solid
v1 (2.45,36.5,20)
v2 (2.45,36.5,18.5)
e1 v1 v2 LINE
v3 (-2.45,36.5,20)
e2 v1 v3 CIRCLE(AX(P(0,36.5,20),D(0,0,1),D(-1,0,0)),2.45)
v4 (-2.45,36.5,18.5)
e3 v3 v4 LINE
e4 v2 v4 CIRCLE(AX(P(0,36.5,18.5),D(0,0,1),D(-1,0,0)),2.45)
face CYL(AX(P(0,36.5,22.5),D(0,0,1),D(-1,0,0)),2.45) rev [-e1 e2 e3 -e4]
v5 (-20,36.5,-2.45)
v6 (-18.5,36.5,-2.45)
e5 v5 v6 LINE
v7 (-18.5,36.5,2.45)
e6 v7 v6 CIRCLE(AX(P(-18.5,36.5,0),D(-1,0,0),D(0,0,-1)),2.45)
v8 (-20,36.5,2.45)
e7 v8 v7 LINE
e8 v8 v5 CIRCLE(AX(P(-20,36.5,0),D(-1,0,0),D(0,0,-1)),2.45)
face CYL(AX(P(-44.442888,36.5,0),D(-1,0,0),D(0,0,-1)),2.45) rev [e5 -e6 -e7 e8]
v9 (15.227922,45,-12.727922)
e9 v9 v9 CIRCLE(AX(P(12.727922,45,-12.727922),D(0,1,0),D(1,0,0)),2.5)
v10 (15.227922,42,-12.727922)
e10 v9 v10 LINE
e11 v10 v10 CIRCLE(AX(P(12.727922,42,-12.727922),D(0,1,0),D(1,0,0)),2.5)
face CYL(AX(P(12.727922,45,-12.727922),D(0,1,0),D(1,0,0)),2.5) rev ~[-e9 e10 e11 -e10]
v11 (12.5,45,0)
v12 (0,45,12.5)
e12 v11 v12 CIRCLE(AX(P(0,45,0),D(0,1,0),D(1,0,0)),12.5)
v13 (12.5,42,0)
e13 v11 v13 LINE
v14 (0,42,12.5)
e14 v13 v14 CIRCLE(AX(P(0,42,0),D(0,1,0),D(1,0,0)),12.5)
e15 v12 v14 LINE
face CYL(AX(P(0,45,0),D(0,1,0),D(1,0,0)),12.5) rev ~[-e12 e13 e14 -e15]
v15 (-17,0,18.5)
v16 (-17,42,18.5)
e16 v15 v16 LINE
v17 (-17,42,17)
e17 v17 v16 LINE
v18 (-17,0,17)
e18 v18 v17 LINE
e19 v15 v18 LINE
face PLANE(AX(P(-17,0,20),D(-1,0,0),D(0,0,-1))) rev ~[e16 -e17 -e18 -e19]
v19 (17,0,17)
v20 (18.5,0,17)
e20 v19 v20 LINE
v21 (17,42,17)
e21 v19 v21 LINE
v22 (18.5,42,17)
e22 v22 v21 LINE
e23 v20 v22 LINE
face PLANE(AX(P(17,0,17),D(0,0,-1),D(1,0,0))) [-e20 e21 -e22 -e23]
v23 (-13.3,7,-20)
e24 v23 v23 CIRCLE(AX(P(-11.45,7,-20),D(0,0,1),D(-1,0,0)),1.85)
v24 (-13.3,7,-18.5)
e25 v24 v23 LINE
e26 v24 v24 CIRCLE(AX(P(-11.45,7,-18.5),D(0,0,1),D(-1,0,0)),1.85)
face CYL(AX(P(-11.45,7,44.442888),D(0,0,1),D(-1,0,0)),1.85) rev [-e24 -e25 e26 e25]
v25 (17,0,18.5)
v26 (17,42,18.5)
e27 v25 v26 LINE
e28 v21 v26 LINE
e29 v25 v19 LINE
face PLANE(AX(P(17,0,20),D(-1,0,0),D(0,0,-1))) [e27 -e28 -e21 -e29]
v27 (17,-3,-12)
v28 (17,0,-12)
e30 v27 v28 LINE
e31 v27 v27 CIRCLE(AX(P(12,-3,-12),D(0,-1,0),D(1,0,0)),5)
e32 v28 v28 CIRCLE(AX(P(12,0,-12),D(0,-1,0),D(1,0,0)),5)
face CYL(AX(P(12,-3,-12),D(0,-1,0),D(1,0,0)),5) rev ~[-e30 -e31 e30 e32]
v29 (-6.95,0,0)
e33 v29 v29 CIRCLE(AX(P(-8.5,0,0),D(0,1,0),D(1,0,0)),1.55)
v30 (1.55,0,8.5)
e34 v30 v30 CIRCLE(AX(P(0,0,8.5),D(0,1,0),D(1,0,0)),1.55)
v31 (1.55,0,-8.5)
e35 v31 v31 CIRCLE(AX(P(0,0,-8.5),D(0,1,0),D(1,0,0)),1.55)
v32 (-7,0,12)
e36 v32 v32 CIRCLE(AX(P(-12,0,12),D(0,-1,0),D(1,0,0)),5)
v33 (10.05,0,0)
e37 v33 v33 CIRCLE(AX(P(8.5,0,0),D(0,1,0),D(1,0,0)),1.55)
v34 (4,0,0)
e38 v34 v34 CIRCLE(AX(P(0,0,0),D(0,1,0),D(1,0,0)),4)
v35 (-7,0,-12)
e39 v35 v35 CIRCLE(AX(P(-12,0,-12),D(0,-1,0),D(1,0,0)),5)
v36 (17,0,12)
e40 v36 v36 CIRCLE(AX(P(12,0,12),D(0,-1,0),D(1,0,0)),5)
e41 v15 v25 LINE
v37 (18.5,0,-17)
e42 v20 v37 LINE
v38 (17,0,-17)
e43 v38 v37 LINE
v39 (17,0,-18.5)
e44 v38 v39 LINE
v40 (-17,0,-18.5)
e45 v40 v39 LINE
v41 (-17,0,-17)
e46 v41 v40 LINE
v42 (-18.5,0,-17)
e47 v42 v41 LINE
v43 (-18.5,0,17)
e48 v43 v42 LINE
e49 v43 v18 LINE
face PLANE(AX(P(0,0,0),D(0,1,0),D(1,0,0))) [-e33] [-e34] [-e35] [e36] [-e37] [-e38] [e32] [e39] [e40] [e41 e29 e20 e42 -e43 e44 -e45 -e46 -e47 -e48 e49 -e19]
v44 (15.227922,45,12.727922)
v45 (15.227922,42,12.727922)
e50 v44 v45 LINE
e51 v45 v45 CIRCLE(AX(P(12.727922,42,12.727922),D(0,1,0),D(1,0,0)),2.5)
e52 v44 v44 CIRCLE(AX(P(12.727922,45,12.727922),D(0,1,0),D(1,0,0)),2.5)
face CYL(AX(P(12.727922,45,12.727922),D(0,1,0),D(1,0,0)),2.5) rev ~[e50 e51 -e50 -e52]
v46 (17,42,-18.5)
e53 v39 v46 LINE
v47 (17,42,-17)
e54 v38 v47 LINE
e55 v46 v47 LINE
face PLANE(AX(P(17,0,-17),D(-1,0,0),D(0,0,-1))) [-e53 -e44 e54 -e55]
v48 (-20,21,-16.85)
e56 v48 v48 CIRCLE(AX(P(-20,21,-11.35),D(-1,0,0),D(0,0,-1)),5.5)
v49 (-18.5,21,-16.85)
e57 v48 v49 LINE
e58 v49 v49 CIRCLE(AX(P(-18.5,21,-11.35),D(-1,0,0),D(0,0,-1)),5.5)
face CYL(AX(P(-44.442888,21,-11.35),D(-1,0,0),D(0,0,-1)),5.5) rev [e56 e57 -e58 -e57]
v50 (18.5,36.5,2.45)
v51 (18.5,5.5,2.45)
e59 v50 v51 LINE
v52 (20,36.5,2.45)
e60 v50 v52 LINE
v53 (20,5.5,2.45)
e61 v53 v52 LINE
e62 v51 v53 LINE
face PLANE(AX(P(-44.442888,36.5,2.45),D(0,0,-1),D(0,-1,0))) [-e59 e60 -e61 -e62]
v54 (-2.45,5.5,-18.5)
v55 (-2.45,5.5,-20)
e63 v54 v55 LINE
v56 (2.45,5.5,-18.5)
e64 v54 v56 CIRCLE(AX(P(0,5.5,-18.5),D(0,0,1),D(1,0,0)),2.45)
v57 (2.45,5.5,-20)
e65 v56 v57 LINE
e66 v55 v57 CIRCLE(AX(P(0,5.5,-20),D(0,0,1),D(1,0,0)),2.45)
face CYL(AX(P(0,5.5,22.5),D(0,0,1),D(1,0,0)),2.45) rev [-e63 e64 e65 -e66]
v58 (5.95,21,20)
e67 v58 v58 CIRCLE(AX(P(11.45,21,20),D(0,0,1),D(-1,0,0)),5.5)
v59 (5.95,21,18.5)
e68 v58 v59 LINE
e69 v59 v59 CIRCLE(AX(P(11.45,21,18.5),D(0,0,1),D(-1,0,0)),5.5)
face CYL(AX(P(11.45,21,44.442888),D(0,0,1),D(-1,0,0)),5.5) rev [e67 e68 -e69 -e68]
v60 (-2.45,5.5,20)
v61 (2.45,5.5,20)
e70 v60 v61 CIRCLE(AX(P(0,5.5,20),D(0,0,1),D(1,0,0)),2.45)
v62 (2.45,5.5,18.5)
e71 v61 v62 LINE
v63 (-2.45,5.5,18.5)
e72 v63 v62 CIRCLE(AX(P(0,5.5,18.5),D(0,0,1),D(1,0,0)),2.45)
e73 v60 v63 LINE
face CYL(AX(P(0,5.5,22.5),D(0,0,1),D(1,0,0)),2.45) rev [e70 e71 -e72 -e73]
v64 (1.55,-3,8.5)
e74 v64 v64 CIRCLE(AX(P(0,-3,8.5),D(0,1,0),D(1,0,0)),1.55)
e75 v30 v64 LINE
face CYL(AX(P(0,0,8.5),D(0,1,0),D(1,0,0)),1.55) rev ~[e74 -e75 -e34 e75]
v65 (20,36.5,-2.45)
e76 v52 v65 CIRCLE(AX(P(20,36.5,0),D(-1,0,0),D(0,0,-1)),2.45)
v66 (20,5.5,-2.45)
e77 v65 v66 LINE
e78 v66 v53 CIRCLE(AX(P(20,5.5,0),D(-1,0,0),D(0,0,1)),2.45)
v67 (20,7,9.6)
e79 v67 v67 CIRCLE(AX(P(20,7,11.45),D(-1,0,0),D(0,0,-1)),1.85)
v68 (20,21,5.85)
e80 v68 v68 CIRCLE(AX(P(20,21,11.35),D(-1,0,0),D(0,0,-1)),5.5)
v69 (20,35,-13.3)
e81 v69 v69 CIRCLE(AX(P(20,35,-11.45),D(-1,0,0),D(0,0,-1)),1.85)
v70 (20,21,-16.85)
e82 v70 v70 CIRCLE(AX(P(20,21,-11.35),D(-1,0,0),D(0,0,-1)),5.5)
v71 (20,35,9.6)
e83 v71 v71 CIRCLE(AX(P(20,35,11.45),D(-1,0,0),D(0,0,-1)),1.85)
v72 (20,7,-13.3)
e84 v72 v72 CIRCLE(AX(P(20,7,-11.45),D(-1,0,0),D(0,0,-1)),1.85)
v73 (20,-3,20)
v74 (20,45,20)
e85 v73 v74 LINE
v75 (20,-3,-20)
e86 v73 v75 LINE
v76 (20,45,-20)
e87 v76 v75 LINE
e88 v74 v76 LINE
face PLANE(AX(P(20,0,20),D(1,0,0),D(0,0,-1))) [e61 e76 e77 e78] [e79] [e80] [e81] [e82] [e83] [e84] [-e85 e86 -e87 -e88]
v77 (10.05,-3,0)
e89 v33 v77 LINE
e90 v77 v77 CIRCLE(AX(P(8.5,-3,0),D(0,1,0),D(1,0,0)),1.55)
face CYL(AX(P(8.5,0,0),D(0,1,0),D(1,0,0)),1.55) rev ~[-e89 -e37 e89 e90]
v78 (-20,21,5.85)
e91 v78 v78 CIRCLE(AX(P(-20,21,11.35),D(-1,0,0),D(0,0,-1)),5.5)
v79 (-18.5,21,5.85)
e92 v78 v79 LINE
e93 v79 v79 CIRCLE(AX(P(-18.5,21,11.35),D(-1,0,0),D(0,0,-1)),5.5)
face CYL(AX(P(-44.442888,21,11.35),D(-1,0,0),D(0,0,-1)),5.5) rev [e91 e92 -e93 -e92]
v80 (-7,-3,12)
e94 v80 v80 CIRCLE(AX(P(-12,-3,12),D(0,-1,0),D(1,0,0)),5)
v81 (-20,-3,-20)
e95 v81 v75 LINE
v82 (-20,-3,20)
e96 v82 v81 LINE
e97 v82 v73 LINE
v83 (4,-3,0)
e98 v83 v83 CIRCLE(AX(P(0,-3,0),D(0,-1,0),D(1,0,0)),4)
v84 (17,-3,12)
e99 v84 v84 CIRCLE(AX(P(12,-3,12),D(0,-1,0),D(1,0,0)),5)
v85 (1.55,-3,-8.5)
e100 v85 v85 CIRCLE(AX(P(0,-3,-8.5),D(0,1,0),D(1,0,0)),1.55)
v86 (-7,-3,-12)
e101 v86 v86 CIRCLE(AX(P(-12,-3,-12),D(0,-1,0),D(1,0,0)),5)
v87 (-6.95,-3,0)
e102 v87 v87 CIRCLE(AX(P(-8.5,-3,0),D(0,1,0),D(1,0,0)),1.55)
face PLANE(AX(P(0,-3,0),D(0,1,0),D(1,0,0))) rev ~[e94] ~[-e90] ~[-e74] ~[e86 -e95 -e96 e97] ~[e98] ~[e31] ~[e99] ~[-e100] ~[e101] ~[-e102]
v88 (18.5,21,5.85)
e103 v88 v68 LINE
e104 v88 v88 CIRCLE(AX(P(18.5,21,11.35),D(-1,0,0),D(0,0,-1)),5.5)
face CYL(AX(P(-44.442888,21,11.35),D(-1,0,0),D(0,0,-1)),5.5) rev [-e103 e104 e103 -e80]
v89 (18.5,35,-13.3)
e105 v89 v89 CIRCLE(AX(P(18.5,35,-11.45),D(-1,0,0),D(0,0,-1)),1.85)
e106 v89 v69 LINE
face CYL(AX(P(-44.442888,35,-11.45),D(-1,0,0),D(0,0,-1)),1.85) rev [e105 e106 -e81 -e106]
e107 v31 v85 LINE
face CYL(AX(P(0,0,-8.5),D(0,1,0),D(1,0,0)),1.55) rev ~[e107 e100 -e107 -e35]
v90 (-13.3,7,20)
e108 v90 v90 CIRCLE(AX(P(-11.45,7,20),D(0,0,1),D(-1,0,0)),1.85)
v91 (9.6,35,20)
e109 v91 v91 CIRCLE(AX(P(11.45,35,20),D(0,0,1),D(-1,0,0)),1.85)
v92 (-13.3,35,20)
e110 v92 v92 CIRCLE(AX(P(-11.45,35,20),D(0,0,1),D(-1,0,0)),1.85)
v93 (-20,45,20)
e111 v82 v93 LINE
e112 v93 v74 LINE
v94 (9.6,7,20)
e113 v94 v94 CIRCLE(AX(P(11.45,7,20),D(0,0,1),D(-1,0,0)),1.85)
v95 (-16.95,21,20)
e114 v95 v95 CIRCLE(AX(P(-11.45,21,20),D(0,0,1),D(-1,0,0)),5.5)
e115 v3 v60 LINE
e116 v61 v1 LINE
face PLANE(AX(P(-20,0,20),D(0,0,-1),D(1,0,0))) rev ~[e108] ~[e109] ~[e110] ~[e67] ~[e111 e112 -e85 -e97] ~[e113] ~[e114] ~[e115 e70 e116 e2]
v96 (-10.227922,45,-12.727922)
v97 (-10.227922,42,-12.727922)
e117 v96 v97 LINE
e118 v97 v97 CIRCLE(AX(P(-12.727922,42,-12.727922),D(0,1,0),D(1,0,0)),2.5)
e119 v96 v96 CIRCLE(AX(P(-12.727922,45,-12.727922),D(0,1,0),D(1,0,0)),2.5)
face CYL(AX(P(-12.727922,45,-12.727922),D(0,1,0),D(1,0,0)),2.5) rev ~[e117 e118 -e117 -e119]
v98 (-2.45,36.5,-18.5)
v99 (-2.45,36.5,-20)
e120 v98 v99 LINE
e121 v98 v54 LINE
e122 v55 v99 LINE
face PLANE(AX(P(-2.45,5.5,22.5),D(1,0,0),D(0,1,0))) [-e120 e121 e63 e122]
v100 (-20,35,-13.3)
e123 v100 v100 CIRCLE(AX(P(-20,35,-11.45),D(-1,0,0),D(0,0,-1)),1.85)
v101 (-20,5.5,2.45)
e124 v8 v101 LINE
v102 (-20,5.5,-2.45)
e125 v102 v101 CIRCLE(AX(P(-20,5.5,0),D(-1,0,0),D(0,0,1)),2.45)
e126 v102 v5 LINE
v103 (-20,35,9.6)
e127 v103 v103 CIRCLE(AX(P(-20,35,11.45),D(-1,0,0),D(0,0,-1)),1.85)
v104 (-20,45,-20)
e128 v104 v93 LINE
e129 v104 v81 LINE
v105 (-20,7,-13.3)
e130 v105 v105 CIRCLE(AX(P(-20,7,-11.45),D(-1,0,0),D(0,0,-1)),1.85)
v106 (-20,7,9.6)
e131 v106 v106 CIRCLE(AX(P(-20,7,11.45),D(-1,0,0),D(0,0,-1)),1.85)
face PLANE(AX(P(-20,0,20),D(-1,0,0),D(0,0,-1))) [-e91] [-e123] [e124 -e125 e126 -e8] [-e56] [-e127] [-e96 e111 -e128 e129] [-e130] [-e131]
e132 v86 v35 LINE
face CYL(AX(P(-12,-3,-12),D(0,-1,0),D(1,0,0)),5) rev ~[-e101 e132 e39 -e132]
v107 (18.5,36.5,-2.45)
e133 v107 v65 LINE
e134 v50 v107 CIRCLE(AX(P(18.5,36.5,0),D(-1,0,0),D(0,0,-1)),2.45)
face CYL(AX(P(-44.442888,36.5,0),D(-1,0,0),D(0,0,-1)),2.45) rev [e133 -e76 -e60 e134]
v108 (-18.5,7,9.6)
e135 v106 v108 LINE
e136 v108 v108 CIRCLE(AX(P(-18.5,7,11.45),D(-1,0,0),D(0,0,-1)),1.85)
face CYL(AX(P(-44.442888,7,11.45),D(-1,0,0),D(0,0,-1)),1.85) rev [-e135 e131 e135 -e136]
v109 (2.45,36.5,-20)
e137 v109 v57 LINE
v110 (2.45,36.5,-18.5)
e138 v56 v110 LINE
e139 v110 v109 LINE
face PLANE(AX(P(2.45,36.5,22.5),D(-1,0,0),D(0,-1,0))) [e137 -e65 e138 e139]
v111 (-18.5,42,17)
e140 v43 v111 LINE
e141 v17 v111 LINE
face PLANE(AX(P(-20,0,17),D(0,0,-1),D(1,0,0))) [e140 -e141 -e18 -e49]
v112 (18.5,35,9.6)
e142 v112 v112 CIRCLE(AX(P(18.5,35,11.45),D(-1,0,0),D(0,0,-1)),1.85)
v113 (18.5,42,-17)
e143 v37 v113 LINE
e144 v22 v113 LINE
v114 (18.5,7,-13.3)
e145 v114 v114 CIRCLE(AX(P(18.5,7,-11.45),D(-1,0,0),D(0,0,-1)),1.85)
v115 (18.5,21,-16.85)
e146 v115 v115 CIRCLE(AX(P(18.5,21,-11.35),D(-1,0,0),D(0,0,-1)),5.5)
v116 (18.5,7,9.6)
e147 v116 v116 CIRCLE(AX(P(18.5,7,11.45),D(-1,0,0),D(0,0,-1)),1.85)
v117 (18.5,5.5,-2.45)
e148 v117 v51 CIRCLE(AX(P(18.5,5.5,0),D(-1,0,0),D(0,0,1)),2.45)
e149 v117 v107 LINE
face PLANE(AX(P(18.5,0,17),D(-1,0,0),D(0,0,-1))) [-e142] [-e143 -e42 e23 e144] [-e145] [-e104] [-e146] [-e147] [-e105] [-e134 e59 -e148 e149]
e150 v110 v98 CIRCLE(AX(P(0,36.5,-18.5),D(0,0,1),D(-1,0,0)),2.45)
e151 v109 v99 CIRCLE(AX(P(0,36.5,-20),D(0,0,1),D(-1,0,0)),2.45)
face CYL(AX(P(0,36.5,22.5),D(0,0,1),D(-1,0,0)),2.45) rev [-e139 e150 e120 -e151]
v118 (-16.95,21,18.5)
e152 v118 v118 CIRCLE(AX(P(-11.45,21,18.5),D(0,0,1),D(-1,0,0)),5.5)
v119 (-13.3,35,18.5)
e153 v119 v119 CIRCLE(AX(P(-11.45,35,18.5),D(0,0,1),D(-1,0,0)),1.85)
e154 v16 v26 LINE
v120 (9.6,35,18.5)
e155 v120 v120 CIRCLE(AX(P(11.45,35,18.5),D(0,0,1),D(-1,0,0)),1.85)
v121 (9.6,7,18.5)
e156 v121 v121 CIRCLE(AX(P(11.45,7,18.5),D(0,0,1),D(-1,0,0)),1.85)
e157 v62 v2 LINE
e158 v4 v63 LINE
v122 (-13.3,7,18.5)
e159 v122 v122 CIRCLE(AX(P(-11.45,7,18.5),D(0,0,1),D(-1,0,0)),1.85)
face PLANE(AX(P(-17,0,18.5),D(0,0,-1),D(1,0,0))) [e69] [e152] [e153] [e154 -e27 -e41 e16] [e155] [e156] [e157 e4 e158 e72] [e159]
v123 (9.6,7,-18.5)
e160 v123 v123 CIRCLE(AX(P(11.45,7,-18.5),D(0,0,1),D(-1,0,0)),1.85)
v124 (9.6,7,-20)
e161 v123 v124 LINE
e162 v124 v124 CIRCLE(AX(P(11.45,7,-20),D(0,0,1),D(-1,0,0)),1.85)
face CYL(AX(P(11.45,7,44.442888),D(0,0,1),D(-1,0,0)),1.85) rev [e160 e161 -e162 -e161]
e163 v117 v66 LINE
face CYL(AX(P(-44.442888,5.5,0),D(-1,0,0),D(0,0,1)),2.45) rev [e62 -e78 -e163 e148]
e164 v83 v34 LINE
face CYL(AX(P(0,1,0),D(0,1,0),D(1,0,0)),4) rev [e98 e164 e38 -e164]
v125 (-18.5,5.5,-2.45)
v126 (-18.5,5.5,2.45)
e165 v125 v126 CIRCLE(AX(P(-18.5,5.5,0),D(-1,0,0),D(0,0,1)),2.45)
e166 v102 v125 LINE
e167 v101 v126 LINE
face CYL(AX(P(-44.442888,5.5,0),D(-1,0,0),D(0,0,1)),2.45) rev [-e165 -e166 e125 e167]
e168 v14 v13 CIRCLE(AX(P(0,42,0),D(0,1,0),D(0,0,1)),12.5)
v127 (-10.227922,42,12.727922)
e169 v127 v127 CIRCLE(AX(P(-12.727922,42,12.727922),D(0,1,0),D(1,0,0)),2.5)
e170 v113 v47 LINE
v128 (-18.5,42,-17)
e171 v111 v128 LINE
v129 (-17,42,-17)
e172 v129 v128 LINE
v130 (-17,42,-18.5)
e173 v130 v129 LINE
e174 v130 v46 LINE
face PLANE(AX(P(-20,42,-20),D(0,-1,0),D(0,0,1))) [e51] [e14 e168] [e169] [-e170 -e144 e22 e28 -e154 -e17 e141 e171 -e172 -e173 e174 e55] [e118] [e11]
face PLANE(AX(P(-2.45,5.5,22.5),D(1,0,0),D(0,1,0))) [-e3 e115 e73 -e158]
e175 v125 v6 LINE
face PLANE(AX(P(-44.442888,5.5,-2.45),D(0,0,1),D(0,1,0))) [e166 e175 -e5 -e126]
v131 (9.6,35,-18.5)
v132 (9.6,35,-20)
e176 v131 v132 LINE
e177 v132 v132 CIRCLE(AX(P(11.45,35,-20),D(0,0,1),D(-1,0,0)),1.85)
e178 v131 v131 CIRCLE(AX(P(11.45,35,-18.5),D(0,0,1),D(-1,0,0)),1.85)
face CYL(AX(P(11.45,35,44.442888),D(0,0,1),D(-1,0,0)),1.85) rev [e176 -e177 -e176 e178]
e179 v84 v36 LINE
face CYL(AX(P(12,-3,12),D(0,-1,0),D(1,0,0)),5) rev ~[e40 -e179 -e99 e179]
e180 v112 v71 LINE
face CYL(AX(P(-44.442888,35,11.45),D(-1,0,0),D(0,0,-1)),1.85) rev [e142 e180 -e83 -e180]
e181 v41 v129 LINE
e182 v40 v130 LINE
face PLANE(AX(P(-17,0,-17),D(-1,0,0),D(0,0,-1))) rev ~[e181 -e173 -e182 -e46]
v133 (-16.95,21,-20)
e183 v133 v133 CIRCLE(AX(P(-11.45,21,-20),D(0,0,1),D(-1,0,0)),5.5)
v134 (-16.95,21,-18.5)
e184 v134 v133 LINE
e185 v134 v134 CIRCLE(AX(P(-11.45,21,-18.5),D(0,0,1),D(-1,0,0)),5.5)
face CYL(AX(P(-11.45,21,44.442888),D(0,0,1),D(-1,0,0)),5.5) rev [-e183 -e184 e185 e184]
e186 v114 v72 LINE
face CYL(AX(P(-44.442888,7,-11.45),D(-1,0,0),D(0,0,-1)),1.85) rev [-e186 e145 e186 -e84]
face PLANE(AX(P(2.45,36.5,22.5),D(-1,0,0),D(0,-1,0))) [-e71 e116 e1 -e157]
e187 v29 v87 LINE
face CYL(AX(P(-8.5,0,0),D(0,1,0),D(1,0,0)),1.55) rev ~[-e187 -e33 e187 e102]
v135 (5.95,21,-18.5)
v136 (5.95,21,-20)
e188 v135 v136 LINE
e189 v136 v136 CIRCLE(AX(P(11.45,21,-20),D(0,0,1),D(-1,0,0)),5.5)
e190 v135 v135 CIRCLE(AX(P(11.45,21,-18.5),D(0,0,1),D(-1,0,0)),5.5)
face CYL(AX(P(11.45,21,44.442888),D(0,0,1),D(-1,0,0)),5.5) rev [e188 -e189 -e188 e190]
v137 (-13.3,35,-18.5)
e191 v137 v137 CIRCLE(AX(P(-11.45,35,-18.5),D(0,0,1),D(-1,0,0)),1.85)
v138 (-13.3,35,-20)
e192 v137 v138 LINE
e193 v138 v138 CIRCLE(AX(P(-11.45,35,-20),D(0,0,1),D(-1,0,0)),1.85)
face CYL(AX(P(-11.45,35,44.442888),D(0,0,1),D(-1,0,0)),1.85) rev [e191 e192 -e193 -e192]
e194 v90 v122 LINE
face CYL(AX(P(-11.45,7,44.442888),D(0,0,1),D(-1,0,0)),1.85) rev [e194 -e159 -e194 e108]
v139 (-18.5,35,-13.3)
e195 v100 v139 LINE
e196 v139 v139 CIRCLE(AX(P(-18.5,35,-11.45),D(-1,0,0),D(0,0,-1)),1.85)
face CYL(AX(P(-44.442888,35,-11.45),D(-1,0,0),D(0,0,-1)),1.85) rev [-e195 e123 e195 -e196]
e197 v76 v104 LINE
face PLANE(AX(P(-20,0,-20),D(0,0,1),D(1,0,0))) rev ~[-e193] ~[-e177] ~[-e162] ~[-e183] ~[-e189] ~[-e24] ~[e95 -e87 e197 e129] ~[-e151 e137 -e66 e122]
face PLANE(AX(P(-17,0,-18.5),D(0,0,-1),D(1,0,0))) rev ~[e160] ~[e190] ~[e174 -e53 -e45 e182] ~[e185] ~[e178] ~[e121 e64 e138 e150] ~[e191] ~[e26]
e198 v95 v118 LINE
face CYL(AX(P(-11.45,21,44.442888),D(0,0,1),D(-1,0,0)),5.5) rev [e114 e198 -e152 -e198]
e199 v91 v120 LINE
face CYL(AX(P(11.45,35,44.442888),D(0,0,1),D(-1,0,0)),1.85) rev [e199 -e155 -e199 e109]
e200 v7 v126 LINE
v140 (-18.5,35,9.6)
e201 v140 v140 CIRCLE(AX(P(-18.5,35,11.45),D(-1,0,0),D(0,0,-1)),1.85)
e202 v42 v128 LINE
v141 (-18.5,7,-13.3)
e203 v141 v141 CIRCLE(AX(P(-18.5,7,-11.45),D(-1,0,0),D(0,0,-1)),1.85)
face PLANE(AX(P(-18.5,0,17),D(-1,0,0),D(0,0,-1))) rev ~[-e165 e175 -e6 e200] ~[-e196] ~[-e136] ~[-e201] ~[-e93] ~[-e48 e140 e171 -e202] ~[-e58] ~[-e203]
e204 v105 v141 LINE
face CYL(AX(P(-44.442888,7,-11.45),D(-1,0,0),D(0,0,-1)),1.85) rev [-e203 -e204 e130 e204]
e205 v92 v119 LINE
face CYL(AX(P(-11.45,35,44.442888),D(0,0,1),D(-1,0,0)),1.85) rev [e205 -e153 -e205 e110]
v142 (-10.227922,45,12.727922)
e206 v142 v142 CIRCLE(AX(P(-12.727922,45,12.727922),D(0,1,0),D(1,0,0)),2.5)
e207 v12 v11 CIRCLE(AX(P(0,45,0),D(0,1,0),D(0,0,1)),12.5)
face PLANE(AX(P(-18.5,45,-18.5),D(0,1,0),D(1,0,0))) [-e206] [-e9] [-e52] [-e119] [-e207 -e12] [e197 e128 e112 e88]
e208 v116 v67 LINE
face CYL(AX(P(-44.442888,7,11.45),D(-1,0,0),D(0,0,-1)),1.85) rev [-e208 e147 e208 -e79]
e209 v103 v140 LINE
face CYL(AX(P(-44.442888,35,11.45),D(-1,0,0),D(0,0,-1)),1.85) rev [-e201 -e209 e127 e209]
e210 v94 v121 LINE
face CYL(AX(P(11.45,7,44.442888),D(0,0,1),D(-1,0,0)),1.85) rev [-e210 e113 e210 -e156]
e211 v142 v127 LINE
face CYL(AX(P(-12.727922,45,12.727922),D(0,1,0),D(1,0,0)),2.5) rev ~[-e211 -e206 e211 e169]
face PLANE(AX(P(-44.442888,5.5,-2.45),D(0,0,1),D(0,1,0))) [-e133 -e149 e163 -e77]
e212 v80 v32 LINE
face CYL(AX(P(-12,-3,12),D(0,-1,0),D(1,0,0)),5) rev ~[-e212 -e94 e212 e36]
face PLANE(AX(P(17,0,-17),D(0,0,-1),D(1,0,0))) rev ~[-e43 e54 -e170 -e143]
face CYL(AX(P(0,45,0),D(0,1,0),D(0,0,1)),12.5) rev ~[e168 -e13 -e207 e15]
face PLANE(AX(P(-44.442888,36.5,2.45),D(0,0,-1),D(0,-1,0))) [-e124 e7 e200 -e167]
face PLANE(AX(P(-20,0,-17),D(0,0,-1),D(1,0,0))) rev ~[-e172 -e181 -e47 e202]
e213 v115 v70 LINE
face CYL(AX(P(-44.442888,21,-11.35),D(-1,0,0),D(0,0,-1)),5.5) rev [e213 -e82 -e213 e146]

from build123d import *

# Parameters (mm, degrees)
SKETCH_1_W                = 40
SKETCH_1_H                = 40
SKETCH_1_R                = 1.55
EXTRUDE_2_DEPTH           = 3
SKETCH_1_6_R              = 4
CUT_EXTRUDE_1_DEPTH       = 1.5
SKETCH_2_W                = 3
SKETCH_2_H                = 3
EXTRUDE_7_DEPTH           = 45
SKETCH_5_W                = 40
SKETCH_5_H                = 3
EXTRUDE_8_DEPTH           = 40
CUT_EXTRUDE_2_DEPTH       = 4
CUT_EXTRUDE_START         = -4
SKETCH_7_R                = 4
CUT_EXTRUDE_3_DEPTH       = 4
SKETCH_8_R                = 5
CUT_EXTRUDE_4_DEPTH       = 4
SKETCH_9_R                = 2.5
CUT_EXTRUDE_5_DEPTH       = 4
SKETCH_10_W               = 1.5
SKETCH_10_H               = 34
SKETCH_10_W_2             = 34
SKETCH_10_H_2             = 1.5
EXTRUDE_10_DEPTH          = 45
CUT_EXTRUDE_12_DEPTH      = 63.507999488
CUT_EXTRUDE_12_DEPTH_BACK = 4
CUT_EXTRUDE_13_DEPTH      = 4
CUT_EXTRUDE_13_DEPTH_BACK = 64.442887702
CUT_EXTRUDE_15_DEPTH      = 10
CUT_EXTRUDE_15_DEPTH_BACK = 64.442887702
SKETCH_24_5_R             = 1.85
SKETCH_24_5_R_2           = 5.5
CUT_EXTRUDE_16_DEPTH      = 10
CUT_EXTRUDE_16_DEPTH_BACK = 64.442887702
SKETCH_25_R               = 5.5
SKETCH_25_R_2             = 1.85


with BuildPart() as part:
    # 草图1 → 凸台-拉伸2 (new body)
    with BuildSketch(Plane(origin=(0, 0, 0), x_dir=(1, 0, 0), z_dir=(0, 1, 0))):
        Rectangle(SKETCH_1_W, SKETCH_1_H)
        with Locations((0, 8.5)):
            Circle(SKETCH_1_R, mode=Mode.SUBTRACT)
        with Locations((8.5, 0)):
            Circle(SKETCH_1_R, mode=Mode.SUBTRACT)
        with Locations((0, -8.5)):
            Circle(SKETCH_1_R, mode=Mode.SUBTRACT)
        with Locations((-8.5, 0)):
            Circle(SKETCH_1_R, mode=Mode.SUBTRACT)
    extrude(amount=-EXTRUDE_2_DEPTH)

    # 草图1<6> → 切除-拉伸1 (cut)
    with BuildSketch(Plane(origin=(0, 0, 0), x_dir=(1, 0, 0), z_dir=(0, 1, 0))):
        Circle(SKETCH_1_6_R)
    extrude(amount=-CUT_EXTRUDE_1_DEPTH, mode=Mode.SUBTRACT)

    # 草图2 → 凸台-拉伸7 (add)
    with BuildSketch(Plane(origin=(0, 0, 0), x_dir=(1, 0, 0), z_dir=(0, 1, 0))):
        with Locations((-18.5, -18.5)):
            Rectangle(SKETCH_2_W, SKETCH_2_H)
        with Locations((18.5, -18.5)):
            Rectangle(SKETCH_2_W, SKETCH_2_H)
        with Locations((-18.5, 18.5)):
            Rectangle(SKETCH_2_W, SKETCH_2_H)
        with Locations((18.5, 18.5)):
            Rectangle(SKETCH_2_W, SKETCH_2_H)
    extrude(amount=EXTRUDE_7_DEPTH)

    # 草图5 → 凸台-拉伸8 (add)
    with BuildSketch(Plane.ZY.offset(20)):
        with Locations((0, 43.5)):
            Rectangle(SKETCH_5_W, SKETCH_5_H)
    extrude(amount=-EXTRUDE_8_DEPTH)

    # 草图6 → 切除-拉伸2 (cut)
    with BuildSketch(Plane(origin=(0, 45, 0), x_dir=(1, 0, 0), z_dir=(0, 1, 0))):
        with BuildLine():
            ThreePointArc((12.5, 0), (-8.838834765, 8.838834765), (0, -12.5))
            ThreePointArc((0, -12.5), (8.838834765, -8.838834765), (12.5, 0))
        make_face()
    extrude(amount=-CUT_EXTRUDE_2_DEPTH, mode=Mode.SUBTRACT)

    # 草图7 → 切除-拉伸3 (cut)
    with BuildSketch(Plane.XZ.offset(3).offset(CUT_EXTRUDE_START)):
        Circle(SKETCH_7_R)
    extrude(amount=CUT_EXTRUDE_3_DEPTH, mode=Mode.SUBTRACT)

    # 草图8 → 切除-拉伸4 (cut)
    with BuildSketch(Plane.XZ.offset(3)):
        with Locations((-12, 12)):
            Circle(SKETCH_8_R)
        with Locations((12, 12)):
            Circle(SKETCH_8_R)
        with Locations((12, -12)):
            Circle(SKETCH_8_R)
        with Locations((-12, -12)):
            Circle(SKETCH_8_R)
    extrude(amount=-CUT_EXTRUDE_4_DEPTH, mode=Mode.SUBTRACT)

    # 草图9 → 切除-拉伸5 (cut)
    with BuildSketch(Plane(origin=(0, 45, 0), x_dir=(1, 0, 0), z_dir=(0, 1, 0))):
        with Locations((-12.727922061, 12.727922061)):
            Circle(SKETCH_9_R)
        with Locations((12.727922061, 12.727922061)):
            Circle(SKETCH_9_R)
        with Locations((12.727922061, -12.727922061)):
            Circle(SKETCH_9_R)
        with Locations((-12.727922061, -12.727922061)):
            Circle(SKETCH_9_R)
    extrude(amount=-CUT_EXTRUDE_5_DEPTH, mode=Mode.SUBTRACT)

    # 草图10 → 凸台-拉伸10 (add)
    with BuildSketch(Plane(origin=(0, 0, 0), x_dir=(1, 0, 0), z_dir=(0, 1, 0))):
        with Locations((19.25, 0)):
            Rectangle(SKETCH_10_W, SKETCH_10_H)
        with Locations((0, -19.25)):
            Rectangle(SKETCH_10_W_2, SKETCH_10_H_2)
        with Locations((-19.25, 0)):
            Rectangle(SKETCH_10_W, SKETCH_10_H)
        with Locations((0, 19.25)):
            Rectangle(SKETCH_10_W_2, SKETCH_10_H_2)
    extrude(amount=EXTRUDE_10_DEPTH)

    # 草图20 → 切除-拉伸12 (cut, two sides: drawn at the far end of the back side and taken through both)
    with BuildSketch(Plane(origin=(0, 0, 18.5), x_dir=(-1, 0, 0), z_dir=(0, 0, -1)).offset(-CUT_EXTRUDE_12_DEPTH_BACK)):
        with BuildLine():
            Line((-2.45, 36.5), (-2.45, 5.5))
            ThreePointArc((-2.45, 5.5), (0, 3.05), (2.45, 5.5))
            Line((2.45, 5.5), (2.45, 36.5))
            ThreePointArc((2.45, 36.5), (0, 38.95), (-2.45, 36.5))
        make_face()
    extrude(amount=CUT_EXTRUDE_12_DEPTH + CUT_EXTRUDE_12_DEPTH_BACK, mode=Mode.SUBTRACT)

    # 草图24 → 切除-拉伸13 (cut, two sides: drawn at the far end of the back side and taken through both)
    with BuildSketch(Plane(origin=(20, 0, 0), x_dir=(0, 0, -1), z_dir=(1, 0, 0)).offset(-CUT_EXTRUDE_13_DEPTH_BACK)):
        with BuildLine():
            Line((-2.45, 36.5), (-2.45, 5.5))
            ThreePointArc((-2.45, 5.5), (0, 3.05), (2.45, 5.5))
            Line((2.45, 5.5), (2.45, 36.5))
            ThreePointArc((2.45, 36.5), (0, 38.95), (-2.45, 36.5))
        make_face()
    extrude(amount=CUT_EXTRUDE_13_DEPTH + CUT_EXTRUDE_13_DEPTH_BACK, mode=Mode.SUBTRACT)

    # 草图24<5> → 切除-拉伸15 (cut, two sides: drawn at the far end of the back side and taken through both)
    with BuildSketch(Plane(origin=(20, 0, 0), x_dir=(0, 0, -1), z_dir=(1, 0, 0)).offset(-CUT_EXTRUDE_15_DEPTH_BACK)):
        with Locations((-11.45, 35)):
            Circle(SKETCH_24_5_R)
        with Locations((-11.45, 7)):
            Circle(SKETCH_24_5_R)
        with Locations((11.45, 7)):
            Circle(SKETCH_24_5_R)
        with Locations((11.45, 35)):
            Circle(SKETCH_24_5_R)
        with Locations((-11.35, 21)):
            Circle(SKETCH_24_5_R_2)
        with Locations((11.35, 21)):
            Circle(SKETCH_24_5_R_2)
    extrude(amount=CUT_EXTRUDE_15_DEPTH + CUT_EXTRUDE_15_DEPTH_BACK, mode=Mode.SUBTRACT)

    # 草图25 → 切除-拉伸16 (cut, two sides: drawn at the far end of the back side and taken through both)
    with BuildSketch(Plane(origin=(0, 0, -20), x_dir=(-1, 0, 0), z_dir=(0, 0, -1)).offset(-CUT_EXTRUDE_16_DEPTH_BACK)):
        with Locations((-11.45, 21)):
            Circle(SKETCH_25_R)
        with Locations((-11.45, 35)):
            Circle(SKETCH_25_R_2)
        with Locations((11.45, 35)):
            Circle(SKETCH_25_R_2)
        with Locations((11.45, 7)):
            Circle(SKETCH_25_R_2)
        with Locations((-11.45, 7)):
            Circle(SKETCH_25_R_2)
        with Locations((11.45, 21)):
            Circle(SKETCH_25_R)
    extrude(amount=CUT_EXTRUDE_16_DEPTH + CUT_EXTRUDE_16_DEPTH_BACK, mode=Mode.SUBTRACT)


solid = part.part
